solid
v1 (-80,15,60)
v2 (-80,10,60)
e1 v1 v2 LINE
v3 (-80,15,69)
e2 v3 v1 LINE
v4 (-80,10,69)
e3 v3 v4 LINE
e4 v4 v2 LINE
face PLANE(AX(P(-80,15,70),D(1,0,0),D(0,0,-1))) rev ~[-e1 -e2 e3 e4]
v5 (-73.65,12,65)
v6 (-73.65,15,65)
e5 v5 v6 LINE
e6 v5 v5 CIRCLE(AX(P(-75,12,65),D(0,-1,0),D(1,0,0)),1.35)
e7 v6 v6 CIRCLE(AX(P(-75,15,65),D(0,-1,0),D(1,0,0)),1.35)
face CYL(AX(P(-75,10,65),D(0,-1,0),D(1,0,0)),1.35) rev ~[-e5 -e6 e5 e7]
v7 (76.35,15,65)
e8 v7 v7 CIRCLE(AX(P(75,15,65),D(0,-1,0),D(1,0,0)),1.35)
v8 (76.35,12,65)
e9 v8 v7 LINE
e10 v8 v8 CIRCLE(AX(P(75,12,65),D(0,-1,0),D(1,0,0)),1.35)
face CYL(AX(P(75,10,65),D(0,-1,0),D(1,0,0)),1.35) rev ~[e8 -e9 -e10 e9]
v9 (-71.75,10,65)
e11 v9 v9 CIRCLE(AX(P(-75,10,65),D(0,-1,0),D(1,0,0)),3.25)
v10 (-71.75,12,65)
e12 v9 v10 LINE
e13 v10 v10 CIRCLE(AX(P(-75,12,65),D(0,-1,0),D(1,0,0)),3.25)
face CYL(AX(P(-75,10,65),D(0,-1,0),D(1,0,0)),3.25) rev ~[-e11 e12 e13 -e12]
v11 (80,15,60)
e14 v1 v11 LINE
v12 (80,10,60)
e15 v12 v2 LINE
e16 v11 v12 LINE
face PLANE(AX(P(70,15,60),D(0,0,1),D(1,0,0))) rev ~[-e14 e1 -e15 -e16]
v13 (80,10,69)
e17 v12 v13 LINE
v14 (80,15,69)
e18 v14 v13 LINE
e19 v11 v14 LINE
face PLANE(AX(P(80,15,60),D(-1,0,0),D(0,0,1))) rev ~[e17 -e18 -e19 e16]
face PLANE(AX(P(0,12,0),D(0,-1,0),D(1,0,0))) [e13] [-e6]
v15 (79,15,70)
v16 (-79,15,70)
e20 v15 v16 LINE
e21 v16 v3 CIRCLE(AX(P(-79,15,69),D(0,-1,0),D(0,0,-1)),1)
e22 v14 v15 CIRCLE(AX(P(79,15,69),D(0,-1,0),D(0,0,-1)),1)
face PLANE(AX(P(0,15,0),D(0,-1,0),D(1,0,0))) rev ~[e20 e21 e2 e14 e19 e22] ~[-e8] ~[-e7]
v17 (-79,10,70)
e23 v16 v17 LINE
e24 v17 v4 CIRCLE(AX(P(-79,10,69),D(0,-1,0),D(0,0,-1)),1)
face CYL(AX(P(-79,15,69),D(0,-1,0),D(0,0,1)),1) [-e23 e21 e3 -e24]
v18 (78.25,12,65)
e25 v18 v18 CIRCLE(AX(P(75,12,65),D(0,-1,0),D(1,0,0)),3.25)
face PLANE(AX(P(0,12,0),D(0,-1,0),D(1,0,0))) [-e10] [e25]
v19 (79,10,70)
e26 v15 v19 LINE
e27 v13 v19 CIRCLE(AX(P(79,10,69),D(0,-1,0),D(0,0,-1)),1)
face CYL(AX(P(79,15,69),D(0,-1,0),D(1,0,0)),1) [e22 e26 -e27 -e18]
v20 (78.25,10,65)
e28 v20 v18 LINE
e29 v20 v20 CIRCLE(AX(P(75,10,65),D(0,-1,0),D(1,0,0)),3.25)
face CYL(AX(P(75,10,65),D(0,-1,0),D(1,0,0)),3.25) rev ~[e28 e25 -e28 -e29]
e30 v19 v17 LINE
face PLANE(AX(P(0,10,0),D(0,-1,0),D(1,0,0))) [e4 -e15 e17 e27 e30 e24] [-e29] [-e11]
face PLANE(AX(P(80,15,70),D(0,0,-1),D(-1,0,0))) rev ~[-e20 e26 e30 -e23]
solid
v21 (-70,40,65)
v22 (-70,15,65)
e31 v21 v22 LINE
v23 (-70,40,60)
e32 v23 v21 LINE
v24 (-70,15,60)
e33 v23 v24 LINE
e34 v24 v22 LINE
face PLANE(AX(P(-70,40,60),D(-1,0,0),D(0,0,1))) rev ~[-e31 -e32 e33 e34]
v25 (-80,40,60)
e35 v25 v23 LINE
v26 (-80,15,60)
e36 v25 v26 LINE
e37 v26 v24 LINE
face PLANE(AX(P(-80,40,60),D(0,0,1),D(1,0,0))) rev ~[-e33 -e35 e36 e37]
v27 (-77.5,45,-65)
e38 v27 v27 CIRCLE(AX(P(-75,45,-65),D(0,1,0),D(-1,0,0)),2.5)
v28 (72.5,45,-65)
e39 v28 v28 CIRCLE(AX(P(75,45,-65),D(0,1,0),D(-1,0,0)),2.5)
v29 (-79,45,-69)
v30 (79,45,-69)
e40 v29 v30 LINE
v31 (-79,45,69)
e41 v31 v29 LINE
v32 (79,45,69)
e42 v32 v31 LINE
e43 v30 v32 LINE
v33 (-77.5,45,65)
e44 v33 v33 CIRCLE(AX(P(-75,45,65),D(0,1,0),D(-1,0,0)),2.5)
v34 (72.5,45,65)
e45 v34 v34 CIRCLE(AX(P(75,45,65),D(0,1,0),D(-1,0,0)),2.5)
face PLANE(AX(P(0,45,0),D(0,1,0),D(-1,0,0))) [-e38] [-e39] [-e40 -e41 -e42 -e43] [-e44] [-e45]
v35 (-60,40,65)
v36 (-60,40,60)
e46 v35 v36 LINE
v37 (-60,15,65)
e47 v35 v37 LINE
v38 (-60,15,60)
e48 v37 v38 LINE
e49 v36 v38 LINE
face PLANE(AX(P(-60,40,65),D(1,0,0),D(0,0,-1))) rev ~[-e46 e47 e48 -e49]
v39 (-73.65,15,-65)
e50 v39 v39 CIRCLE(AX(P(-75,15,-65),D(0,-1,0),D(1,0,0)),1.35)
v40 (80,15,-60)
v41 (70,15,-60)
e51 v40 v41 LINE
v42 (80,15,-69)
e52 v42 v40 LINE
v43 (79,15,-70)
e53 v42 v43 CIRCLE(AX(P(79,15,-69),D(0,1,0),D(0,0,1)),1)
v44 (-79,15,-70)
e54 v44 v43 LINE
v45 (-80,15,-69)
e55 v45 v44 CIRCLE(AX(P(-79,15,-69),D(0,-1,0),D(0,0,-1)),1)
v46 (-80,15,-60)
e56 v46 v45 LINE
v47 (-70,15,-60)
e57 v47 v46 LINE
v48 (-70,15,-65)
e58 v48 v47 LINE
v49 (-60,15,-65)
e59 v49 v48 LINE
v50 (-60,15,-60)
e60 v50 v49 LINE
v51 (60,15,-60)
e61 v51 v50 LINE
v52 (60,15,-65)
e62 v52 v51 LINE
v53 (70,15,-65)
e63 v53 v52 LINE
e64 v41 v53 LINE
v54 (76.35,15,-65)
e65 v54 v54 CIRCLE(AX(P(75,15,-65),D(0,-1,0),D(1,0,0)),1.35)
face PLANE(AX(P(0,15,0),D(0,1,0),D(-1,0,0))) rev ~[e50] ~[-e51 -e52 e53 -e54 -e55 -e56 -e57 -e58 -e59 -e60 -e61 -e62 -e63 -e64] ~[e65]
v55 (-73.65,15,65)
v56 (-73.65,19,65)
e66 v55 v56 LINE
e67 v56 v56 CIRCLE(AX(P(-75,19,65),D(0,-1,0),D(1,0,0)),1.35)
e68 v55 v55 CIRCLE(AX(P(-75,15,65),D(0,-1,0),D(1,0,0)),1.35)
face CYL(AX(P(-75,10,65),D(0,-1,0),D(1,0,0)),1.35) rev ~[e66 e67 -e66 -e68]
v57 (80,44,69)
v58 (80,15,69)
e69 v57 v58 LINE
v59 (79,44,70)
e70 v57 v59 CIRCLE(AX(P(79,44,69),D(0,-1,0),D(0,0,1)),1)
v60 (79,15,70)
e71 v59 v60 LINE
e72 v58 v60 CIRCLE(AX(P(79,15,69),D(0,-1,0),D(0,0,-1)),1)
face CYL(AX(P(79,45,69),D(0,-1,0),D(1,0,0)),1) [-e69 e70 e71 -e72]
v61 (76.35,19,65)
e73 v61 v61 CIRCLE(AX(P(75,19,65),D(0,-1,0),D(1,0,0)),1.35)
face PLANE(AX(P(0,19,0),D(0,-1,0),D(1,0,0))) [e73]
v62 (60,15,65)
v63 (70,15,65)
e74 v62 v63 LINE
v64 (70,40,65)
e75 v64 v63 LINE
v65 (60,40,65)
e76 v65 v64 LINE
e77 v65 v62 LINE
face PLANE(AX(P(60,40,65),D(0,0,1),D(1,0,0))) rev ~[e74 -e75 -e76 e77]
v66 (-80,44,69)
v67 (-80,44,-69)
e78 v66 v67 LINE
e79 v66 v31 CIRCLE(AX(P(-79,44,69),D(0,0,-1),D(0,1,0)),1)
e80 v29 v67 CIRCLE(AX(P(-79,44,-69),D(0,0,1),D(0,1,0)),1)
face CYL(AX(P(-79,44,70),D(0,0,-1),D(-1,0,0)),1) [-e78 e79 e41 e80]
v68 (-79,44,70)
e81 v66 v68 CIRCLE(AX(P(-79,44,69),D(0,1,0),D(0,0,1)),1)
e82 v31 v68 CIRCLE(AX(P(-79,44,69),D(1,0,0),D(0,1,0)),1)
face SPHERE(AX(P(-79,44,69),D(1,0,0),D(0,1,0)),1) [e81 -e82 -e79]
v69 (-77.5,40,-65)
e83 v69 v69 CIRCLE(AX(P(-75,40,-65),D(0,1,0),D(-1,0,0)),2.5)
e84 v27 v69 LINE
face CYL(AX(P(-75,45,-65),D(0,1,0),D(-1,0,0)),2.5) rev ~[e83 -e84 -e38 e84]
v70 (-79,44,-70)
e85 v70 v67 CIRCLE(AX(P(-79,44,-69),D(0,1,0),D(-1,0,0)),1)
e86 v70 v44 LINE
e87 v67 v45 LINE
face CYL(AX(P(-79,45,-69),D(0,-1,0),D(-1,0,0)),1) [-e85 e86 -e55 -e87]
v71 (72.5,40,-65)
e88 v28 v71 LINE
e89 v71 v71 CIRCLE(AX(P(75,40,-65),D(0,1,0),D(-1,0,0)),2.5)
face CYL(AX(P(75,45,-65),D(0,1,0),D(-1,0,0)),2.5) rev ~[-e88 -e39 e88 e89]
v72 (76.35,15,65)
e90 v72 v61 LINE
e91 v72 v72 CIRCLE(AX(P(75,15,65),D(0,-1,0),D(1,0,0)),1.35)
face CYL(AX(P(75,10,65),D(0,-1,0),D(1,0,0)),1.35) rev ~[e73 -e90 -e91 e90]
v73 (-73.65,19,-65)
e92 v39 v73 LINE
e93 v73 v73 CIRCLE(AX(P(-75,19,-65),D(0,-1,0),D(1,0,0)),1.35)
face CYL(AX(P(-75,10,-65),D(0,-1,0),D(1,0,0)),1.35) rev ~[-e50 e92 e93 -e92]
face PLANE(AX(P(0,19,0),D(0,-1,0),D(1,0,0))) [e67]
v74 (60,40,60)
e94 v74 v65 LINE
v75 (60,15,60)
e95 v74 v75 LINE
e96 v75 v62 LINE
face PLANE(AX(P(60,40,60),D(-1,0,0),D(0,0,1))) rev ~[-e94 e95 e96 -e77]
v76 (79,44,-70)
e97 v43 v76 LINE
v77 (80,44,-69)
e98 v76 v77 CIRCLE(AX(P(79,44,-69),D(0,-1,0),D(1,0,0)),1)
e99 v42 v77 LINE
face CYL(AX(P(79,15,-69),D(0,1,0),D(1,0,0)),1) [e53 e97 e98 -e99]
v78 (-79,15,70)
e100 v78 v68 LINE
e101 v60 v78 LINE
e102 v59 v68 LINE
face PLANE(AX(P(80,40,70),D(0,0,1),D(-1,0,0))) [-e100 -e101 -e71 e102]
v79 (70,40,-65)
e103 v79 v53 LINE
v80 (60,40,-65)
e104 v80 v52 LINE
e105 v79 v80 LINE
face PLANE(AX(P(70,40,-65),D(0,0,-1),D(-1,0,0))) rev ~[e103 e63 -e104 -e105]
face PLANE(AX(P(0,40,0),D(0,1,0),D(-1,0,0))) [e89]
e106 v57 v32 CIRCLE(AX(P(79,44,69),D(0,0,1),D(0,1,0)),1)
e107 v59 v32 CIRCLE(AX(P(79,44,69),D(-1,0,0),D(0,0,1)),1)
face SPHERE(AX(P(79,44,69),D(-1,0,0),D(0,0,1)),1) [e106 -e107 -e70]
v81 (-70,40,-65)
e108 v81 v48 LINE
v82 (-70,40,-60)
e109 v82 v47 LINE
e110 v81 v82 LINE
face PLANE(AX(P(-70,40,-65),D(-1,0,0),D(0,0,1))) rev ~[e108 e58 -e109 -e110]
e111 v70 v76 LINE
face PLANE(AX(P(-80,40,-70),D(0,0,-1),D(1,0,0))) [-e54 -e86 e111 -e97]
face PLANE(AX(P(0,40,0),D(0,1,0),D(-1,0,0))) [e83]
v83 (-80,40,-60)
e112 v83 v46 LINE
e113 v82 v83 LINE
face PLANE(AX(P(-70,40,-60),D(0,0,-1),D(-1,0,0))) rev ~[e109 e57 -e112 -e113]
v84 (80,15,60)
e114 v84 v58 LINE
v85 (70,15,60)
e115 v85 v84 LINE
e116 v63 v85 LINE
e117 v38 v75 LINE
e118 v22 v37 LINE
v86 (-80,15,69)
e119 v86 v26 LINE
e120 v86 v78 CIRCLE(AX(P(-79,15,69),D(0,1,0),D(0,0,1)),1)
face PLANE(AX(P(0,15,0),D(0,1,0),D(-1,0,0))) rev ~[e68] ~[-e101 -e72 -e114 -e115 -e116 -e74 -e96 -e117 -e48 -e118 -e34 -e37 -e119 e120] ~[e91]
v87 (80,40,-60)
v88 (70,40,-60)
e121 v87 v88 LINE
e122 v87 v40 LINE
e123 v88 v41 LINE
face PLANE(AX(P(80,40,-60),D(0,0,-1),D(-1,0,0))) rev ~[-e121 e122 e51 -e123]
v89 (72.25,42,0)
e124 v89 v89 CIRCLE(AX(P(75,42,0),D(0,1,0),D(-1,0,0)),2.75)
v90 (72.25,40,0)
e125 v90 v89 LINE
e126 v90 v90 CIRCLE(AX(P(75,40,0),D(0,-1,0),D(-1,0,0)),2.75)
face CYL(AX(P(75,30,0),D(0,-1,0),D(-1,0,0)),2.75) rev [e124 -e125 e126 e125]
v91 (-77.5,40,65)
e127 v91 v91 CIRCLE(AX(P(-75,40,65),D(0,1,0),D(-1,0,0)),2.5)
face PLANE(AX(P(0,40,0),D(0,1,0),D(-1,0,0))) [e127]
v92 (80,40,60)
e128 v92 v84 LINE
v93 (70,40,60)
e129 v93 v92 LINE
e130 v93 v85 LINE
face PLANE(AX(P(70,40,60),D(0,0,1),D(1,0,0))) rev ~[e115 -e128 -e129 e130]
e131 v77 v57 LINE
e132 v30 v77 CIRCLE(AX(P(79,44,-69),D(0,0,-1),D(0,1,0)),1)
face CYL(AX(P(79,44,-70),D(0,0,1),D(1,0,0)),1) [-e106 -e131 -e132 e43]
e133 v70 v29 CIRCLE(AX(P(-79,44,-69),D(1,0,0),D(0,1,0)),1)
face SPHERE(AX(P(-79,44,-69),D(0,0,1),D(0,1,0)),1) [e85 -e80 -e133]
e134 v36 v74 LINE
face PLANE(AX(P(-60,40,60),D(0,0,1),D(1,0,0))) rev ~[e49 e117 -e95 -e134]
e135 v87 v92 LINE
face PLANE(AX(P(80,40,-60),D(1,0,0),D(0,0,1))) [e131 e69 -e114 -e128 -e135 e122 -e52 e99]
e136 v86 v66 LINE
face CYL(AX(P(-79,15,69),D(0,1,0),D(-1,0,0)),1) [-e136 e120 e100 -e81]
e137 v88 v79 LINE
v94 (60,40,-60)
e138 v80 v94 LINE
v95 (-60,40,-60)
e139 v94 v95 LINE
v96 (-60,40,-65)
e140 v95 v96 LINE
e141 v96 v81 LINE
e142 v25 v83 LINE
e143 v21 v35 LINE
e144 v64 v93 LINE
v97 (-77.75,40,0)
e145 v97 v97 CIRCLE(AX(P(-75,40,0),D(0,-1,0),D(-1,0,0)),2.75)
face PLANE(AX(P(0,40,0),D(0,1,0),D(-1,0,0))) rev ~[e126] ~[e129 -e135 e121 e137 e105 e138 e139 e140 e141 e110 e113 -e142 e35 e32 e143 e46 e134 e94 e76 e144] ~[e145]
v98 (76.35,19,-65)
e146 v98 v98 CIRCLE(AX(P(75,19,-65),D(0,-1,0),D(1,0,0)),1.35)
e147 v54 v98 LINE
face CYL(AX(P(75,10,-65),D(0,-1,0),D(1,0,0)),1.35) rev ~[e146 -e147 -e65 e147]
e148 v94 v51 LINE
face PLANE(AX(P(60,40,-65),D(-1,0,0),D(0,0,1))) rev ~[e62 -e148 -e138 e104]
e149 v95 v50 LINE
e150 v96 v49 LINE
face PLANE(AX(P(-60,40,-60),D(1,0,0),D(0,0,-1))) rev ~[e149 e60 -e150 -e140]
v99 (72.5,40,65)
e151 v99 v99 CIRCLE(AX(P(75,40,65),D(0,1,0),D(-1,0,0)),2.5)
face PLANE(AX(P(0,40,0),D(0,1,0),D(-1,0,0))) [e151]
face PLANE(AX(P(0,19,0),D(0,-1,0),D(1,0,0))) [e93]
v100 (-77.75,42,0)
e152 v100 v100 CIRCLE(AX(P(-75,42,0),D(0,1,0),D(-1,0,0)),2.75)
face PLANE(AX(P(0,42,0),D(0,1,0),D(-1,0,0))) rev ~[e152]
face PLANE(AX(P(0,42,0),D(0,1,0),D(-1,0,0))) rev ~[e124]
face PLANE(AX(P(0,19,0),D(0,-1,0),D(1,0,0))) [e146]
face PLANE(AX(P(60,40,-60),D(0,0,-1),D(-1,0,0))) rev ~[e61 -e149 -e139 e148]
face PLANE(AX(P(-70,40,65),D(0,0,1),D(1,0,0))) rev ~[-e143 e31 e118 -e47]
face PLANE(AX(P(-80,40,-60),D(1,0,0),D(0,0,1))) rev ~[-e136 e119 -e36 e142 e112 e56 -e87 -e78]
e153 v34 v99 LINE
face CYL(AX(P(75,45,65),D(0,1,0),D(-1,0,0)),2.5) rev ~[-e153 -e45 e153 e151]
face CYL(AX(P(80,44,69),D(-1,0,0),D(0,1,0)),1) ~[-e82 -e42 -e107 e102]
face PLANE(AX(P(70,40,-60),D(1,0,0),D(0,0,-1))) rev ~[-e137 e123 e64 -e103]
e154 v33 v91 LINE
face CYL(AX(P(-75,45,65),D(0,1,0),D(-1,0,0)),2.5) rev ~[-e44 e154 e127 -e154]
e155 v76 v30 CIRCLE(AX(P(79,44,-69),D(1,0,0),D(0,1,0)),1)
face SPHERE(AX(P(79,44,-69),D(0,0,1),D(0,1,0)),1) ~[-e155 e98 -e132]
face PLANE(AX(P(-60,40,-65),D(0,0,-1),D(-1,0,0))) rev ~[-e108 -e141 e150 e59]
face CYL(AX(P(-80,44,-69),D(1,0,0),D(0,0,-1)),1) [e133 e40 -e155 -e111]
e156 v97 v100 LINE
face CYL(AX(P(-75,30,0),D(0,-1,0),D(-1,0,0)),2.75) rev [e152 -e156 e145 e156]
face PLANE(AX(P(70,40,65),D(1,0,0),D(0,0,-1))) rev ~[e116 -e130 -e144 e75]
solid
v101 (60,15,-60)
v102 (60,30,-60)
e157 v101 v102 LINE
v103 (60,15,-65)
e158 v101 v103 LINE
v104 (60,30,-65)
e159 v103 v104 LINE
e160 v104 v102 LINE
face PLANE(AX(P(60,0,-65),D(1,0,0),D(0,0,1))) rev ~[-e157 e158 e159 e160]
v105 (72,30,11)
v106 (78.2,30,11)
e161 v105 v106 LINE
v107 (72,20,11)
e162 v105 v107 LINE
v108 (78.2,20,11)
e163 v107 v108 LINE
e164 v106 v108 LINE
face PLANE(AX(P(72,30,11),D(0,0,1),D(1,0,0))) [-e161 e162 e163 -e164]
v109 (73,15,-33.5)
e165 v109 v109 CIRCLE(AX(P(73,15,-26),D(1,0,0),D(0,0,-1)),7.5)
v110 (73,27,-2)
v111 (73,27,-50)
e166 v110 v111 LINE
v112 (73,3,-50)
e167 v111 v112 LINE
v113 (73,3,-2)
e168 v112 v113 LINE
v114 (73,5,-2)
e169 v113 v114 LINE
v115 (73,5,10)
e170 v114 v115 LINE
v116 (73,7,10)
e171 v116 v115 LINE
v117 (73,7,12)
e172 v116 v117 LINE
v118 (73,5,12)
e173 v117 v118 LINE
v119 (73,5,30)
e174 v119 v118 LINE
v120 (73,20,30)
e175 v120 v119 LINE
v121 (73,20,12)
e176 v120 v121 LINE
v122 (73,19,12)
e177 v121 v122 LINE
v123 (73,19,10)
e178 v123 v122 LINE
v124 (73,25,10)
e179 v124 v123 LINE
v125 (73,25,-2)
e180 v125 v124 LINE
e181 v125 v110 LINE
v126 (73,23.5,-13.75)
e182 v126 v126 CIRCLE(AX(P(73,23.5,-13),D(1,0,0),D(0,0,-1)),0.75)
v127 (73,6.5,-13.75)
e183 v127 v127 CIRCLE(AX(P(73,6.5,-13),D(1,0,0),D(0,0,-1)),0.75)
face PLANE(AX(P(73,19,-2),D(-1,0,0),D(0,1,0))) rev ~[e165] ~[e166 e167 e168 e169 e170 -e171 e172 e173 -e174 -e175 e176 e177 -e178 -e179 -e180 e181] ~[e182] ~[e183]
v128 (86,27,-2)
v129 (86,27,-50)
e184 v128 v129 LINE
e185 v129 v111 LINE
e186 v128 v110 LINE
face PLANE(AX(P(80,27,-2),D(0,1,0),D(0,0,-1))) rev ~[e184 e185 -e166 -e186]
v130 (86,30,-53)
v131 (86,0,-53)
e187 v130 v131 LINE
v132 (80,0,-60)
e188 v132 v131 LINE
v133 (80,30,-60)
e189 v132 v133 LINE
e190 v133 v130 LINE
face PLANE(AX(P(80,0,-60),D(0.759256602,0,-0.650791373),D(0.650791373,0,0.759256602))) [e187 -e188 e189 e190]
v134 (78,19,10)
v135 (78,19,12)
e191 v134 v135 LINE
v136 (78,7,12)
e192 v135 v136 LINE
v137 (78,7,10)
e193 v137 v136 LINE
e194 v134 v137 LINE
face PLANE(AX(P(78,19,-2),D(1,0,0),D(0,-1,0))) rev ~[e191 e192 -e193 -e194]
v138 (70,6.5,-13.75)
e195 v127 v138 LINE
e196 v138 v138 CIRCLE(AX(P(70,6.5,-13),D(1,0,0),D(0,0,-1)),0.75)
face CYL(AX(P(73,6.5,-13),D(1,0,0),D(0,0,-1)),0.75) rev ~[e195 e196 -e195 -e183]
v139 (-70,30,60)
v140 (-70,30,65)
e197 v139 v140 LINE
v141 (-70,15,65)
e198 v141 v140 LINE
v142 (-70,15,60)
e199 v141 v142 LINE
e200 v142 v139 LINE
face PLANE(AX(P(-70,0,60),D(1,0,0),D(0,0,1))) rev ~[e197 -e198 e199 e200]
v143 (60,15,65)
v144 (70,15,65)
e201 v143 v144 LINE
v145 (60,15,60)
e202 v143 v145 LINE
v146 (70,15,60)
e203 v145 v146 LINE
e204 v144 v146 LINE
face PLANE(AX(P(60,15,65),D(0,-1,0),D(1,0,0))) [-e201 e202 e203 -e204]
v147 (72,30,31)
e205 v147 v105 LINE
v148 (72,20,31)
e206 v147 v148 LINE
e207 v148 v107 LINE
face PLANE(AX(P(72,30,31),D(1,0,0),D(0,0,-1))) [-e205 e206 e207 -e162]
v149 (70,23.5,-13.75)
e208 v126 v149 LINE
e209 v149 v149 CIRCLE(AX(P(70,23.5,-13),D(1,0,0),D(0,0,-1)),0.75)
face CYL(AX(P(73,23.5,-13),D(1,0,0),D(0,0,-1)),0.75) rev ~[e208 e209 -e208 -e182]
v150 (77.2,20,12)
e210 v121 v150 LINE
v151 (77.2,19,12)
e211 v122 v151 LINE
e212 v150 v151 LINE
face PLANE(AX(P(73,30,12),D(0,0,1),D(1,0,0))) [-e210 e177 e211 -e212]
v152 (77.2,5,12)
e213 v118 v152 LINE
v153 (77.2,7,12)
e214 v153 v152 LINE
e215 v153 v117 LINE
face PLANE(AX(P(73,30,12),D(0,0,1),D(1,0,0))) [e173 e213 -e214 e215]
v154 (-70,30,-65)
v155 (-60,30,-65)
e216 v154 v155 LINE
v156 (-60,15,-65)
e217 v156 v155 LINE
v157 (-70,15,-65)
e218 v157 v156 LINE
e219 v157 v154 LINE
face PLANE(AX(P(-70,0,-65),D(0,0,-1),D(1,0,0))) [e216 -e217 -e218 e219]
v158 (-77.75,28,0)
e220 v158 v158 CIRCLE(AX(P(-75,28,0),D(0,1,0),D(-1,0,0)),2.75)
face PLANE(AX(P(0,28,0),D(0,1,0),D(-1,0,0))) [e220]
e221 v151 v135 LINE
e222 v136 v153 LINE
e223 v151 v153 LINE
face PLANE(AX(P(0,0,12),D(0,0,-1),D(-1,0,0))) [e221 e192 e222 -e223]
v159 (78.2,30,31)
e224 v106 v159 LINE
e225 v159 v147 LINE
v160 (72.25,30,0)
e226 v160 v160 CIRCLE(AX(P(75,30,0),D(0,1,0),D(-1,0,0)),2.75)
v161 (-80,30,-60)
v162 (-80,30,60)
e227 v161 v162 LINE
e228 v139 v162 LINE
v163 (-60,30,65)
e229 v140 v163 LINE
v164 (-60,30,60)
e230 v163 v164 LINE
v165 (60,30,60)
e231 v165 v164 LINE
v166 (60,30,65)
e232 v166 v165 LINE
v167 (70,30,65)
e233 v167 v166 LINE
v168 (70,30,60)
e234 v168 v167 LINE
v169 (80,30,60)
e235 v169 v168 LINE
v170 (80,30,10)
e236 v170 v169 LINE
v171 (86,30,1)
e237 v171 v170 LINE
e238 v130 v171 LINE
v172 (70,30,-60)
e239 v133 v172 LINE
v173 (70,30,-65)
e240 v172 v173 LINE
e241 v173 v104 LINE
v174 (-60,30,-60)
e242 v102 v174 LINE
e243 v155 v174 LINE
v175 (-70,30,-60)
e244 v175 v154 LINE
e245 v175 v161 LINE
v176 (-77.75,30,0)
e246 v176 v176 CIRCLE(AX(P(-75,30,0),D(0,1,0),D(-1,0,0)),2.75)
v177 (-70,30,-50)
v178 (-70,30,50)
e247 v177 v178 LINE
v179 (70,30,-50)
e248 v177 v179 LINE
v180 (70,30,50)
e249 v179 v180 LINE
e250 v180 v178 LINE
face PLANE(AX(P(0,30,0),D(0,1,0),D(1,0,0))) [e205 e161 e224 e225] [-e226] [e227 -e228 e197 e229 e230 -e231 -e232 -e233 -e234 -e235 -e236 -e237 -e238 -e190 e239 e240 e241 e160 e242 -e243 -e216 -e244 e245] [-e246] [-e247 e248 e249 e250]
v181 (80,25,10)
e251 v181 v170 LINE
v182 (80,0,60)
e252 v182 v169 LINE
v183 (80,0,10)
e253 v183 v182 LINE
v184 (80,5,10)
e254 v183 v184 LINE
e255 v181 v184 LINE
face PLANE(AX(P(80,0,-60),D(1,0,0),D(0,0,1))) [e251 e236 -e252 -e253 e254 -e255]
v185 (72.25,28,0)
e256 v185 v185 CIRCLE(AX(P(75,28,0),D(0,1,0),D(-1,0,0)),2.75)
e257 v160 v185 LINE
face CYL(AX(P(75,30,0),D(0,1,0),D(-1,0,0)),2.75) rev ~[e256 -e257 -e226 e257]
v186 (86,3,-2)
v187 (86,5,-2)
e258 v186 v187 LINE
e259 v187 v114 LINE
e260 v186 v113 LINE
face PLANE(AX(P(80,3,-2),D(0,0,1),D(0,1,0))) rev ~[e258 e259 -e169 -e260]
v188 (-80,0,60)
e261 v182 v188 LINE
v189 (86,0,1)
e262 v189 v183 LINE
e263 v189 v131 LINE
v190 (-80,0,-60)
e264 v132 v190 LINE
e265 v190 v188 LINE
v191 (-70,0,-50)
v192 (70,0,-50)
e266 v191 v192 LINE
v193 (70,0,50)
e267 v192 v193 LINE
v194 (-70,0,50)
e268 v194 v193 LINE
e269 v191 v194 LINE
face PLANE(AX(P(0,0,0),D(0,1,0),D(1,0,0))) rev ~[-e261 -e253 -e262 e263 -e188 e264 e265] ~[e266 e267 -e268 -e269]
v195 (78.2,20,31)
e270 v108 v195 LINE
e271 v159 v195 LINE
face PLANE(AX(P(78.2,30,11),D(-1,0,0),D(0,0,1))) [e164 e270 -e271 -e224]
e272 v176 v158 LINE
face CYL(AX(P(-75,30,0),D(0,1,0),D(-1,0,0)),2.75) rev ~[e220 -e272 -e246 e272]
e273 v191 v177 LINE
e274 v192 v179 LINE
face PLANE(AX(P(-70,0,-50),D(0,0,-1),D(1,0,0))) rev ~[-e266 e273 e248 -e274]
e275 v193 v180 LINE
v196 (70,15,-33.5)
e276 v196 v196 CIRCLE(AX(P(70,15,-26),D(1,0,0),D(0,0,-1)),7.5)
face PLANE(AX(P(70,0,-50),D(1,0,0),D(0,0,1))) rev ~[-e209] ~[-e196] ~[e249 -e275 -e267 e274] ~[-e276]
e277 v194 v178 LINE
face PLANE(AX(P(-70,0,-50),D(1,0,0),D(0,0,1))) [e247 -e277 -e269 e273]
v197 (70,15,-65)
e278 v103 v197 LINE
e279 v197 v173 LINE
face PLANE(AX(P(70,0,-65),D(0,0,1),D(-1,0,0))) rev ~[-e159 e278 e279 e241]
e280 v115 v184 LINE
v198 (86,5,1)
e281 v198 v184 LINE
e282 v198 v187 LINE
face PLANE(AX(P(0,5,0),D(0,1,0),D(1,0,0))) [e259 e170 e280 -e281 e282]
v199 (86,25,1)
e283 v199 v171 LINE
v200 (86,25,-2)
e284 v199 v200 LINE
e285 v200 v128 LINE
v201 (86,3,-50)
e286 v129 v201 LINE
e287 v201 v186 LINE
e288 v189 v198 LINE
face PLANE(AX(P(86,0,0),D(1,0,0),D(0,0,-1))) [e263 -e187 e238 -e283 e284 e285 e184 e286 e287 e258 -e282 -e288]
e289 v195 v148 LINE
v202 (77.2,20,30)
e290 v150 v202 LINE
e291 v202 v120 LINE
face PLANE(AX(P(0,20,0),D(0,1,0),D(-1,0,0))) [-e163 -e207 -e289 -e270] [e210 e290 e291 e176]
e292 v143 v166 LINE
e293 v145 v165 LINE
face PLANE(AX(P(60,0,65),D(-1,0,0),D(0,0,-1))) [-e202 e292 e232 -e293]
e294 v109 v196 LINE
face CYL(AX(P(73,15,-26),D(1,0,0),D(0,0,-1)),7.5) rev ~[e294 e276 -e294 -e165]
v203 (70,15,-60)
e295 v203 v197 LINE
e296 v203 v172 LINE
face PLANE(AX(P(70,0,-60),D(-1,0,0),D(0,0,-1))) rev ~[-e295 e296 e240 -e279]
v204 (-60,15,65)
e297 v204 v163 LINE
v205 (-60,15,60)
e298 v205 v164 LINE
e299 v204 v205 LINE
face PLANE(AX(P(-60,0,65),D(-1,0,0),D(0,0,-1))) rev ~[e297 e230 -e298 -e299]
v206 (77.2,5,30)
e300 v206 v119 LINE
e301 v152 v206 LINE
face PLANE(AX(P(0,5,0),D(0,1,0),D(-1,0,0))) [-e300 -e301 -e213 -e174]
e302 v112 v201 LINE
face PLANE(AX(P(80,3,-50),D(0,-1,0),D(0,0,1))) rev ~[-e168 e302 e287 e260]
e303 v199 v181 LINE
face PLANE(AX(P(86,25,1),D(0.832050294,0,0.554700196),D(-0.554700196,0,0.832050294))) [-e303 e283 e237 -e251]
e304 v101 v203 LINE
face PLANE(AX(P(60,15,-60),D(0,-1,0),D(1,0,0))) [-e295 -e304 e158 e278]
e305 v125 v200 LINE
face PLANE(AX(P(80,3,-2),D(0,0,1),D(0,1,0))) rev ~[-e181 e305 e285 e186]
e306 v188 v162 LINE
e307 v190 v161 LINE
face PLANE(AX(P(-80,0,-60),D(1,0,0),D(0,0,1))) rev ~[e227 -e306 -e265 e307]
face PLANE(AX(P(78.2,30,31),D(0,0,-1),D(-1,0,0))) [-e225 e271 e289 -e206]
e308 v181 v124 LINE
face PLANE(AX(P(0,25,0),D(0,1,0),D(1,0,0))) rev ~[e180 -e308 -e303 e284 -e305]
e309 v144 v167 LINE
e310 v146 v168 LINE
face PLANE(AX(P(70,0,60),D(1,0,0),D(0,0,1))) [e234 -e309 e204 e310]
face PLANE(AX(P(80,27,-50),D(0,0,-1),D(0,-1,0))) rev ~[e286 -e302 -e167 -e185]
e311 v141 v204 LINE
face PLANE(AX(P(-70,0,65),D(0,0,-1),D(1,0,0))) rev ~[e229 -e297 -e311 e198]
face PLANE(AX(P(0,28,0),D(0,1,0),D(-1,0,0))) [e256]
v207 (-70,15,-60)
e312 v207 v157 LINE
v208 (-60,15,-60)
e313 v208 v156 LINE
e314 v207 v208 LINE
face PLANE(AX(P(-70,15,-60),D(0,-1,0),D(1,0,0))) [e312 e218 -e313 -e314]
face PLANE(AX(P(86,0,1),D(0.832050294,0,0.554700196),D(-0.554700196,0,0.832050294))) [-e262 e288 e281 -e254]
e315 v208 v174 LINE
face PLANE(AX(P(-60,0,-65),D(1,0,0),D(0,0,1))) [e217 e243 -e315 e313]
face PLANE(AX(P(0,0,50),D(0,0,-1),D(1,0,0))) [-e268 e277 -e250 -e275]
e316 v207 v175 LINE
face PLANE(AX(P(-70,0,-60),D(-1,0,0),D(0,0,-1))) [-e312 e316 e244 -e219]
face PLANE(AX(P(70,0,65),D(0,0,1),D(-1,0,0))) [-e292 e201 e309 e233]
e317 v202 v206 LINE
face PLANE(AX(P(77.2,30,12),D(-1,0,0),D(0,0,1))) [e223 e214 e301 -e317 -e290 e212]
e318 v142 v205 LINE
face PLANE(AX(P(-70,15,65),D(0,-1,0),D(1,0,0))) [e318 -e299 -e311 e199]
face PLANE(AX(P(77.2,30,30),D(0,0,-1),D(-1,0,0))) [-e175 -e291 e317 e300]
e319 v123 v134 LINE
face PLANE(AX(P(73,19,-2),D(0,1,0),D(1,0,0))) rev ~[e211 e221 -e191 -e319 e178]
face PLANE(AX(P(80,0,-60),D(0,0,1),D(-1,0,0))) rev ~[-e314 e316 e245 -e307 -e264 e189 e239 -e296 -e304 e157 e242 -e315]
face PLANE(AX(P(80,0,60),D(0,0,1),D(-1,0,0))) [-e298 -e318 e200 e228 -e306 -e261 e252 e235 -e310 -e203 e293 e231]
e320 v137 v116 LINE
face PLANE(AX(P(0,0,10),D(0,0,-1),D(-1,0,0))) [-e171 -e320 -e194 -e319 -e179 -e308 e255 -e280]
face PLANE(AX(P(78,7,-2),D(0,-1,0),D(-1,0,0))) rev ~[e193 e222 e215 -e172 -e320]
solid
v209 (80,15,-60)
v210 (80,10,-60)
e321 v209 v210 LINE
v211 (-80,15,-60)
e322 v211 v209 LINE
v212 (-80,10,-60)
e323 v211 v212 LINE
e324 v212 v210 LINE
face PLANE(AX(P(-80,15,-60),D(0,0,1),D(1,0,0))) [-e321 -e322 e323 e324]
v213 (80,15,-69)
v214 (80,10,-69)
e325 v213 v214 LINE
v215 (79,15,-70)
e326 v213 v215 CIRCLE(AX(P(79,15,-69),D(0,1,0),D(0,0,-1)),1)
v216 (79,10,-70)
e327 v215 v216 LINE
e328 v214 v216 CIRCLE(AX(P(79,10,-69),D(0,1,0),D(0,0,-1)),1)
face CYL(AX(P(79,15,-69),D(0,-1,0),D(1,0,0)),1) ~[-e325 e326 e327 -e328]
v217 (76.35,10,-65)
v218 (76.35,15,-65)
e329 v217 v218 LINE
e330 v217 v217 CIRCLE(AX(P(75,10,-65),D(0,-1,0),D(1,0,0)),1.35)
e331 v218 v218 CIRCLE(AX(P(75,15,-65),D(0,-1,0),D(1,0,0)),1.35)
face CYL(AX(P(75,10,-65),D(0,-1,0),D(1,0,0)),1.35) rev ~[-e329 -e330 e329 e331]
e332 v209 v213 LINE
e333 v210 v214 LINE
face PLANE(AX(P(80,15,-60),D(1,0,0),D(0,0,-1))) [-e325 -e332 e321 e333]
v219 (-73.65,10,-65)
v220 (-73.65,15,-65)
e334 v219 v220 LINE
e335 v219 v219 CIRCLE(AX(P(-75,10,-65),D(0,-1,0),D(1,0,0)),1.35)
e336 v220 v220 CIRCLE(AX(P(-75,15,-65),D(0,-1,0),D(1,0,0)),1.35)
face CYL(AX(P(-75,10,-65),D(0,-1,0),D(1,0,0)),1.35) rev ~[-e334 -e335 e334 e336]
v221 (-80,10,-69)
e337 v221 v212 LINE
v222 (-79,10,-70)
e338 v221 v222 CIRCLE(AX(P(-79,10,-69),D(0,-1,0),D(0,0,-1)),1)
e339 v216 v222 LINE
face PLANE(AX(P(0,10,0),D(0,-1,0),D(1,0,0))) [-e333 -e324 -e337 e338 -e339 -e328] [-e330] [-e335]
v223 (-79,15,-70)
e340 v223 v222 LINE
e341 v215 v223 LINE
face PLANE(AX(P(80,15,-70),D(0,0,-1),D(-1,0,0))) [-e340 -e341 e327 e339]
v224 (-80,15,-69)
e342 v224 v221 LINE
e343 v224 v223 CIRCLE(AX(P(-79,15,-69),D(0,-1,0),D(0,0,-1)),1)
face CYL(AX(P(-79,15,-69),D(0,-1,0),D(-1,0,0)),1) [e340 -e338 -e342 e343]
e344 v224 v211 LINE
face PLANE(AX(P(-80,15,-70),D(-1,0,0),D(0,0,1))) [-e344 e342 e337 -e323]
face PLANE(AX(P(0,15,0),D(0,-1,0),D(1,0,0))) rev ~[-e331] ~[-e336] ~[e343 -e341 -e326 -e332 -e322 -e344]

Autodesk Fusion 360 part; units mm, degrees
sketch "草图1" plane through (0, 0, 0) normal (0, 1, 0) x (1, 0, 0)
  line L0 (0, 0) -> (0, -50) construction
  line L1 (0, -50) -> (70, -50)
  line L2 (80, -60) -> (-80, -60)
  line L3 (-70, -50) -> (0, -50)
  line L4 (-70, 50) -> (70, 50)
  line L5 (80, 60) -> (-80, 60)
  line L6 (-70, 50) -> (-70, -50)
  line L7 (70, 50) -> (70, -50)
  line L8 (-80, 60) -> (-80, -60)
  line L9 (80, 60) -> (80, -60)
  line L10 (0, 0) -> (70, 0) construction
  line L11 (-70, 60) -> (-70, 65)
  line L12 (-70, 65) -> (-60, 65)
  line L13 (-60, 65) -> (-60, 60)
  line L14 (70, 60) -> (70, 65)
  line L15 (70, 65) -> (60, 65)
  line L16 (60, 65) -> (60, 60)
  line L17 (-70, -60) -> (-70, -65)
  line L18 (-70, -65) -> (-60, -65)
  line L19 (-60, -65) -> (-60, -60)
  line L20 (70, -60) -> (70, -65)
  line L21 (70, -65) -> (60, -65)
  line L22 (60, -65) -> (60, -60)
  dimension "d5" = 50
  dimension "d21" = 160
  dimension "d23" = 140
  dimension "d24" = 100
  dimension "d25" = 10
  dimension "d26" = 120
  dimension "d27" = 10
  dimension "d28" = 70
  dimension "d31" = 5
  dimension "d32" = 10
  dimension "d33" = 10
  dimension "d34" = 10
  dimension "d35" = 10
  dimension "d36" = 5
  dimension "d37" = 5
  dimension "d38" = 10
  dimension "d39" = 10
  dimension "d40" = 5
  dimension "d41" = 10
  dimension "d42" = 10
extrude "拉伸4" add sketch "草图1" along normal blind 30 makes body 1
sketch "草图6" plane through (80, 0, 0) normal (1, 0, 0) x (0, 0, -1)
  line L0 (-60, 0) -> (60, 0)
  line L1 (60, 0) -> (60, 30)
  line L2 (60, 30) -> (-60, 30)
  line L3 (-60, 30) -> (-60, 0)
  line L4 (50, 3) -> (2, 3)
  line L5 (2, 3) -> (2, 27)
  line L6 (2, 27) -> (50, 27)
  line L7 (50, 27) -> (50, 3)
  line L8 (53, 30) -> (53, 0)
  line L9 (53, 0) -> (-1, 0)
  line L10 (-1, 0) -> (-1, 30)
  line L11 (-1, 30) -> (53, 30)
  dimension "d65" = 48
  dimension "d66" = 24
  dimension "d67" = 10
  dimension "d68" = 3
  dimension "d71" = -3
extrude "拉伸9" cut sketch "草图6" against normal blind 7 contours L4 L5 L6 L7 bodies 1
extrude "拉伸10" add sketch "草图6" along normal blind 6 contours L0 L2 L8 L9 L10 L11 bodies 1
sketch "草图7" plane through (73, 0, 0) normal (1, 0, 0) x (0, 0, -1)
  line L0 (50, 27) -> (2, 27)
  line L1 (2, 27) -> (2, 3)
  line L2 (2, 3) -> (50, 3)
  line L3 (50, 3) -> (50, 27)
  line L4 (2, 15) -> (50, 15) construction
  circle A0 centre (26, 15) radius 7.5
  line L5 (50, 15) -> (13, 15) construction
  line L6 (13, 15) -> (13, 27) construction
  circle A1 centre (13, 23.5) radius 0.75
  circle A2 centre (13, 6.5) radius 0.75
  line L7 (13, 15) -> (13, 6.5) construction
  dimension "d74" = 15
  dimension "d81" = 37
  dimension "d82" = 1.5
  dimension "d83" = 3.5
  dimension "d84" = 1.5
  dimension "d85" = 3.5
extrude "拉伸11" cut sketch "草图7" against normal blind 3 contours A0 | A1 | A2 bodies 1
sketch "草图8" plane through (0, 0, 1) normal (0, 0, 1) x (1, 0, 0)
  line L0 (80, 30) -> (80, 0)
  line L1 (80, 0) -> (86, 0)
  line L2 (86, 0) -> (86, 30)
  line L3 (86, 30) -> (80, 30)
  line L4 (86, 25) -> (80, 25)
  line L5 (80, 25) -> (80, 5)
  line L6 (80, 5) -> (86, 5)
  line L7 (86, 5) -> (86, 25)
  dimension "d77" = 5
  dimension "d78" = 5
extrude "拉伸12" cut sketch "草图8" against normal blind 3 contours L0 L2 L4 L5 L6 L7 bodies 1
sketch "草图9" plane through (0, 30, 0) normal (0, 1, 0) x (-1, 0, 0)
  line L0 (70, 50) -> (70, -50)
  line L1 (70, -50) -> (-70, -50)
  line L2 (-70, -50) -> (-70, 50)
  line L3 (-70, 50) -> (70, 50)
  line L4 (-80, -60) -> (-70, -60)
  line L5 (-70, -60) -> (-70, -65)
  line L6 (-70, -65) -> (-60, -65)
  line L7 (-60, -65) -> (-60, -60)
  line L8 (-60, -60) -> (60, -60)
  line L9 (60, -60) -> (60, -65)
  line L10 (60, -65) -> (70, -65)
  line L11 (70, -65) -> (70, -60)
  line L12 (70, -60) -> (80, -60)
  line L13 (80, -60) -> (80, 60)
  line L14 (80, 60) -> (70, 60)
  line L15 (70, 60) -> (70, 65)
  line L16 (70, 65) -> (60, 65)
  line L17 (60, 65) -> (60, 60)
  line L18 (60, 60) -> (-60, 60)
  line L19 (-60, 60) -> (-60, 65)
  line L20 (-60, 65) -> (-70, 65)
  line L21 (-70, 65) -> (-70, 60)
  line L22 (-70, 60) -> (-80, 60)
  line L23 (-80, 60) -> (-80, 1)
  line L24 (-80, 1) -> (-86, 1)
  line L25 (-86, 1) -> (-86, -53)
  line L26 (-86, -53) -> (-80, -53)
  line L27 (-80, -53) -> (-80, -60)
  line L28 (-72, 11) -> (-78.2, 11)
  line L29 (-78.2, 11) -> (-78.2, 31)
  line L30 (-78.2, 31) -> (-72, 31)
  line L31 (-72, 31) -> (-72, 11)
  line L32 (-77.2, 12) -> (-77.2, 30)
  line L33 (-77.2, 30) -> (-73, 30)
  line L34 (-73, 30) -> (-73, 12)
  line L35 (-73, 12) -> (-77.2, 12)
  dimension "d86" = 6.2
  dimension "d87" = 20
  dimension "d88" = 11
  dimension "d89" = 2
  dimension "d92" = 1
extrude "拉伸13" cut sketch "草图9" against normal blind 10 contours L28 L29 L30 L31 | L32 L33 L34 L35 bodies 1
extrude "拉伸14" cut sketch "草图9" against normal blind 25 contours L32 L33 L34 L35 bodies 1
sketch "草图10" plane through (0, 0, -2) normal (0, 0, -1) x (-1, 0, 0)
  line L0 (-80, 5) -> (-86, 5)
  line L1 (-86, 5) -> (-86, 3)
  line L2 (-86, 3) -> (-73, 3)
  line L3 (-73, 3) -> (-73, 27)
  line L4 (-73, 27) -> (-86, 27)
  line L5 (-86, 27) -> (-86, 25)
  line L6 (-86, 25) -> (-80, 25)
  line L7 (-80, 25) -> (-80, 5)
  line L8 (-80, 25) -> (-73, 25)
  line L9 (-73, 25) -> (-73, 5)
  line L10 (-73, 5) -> (-80, 5)
  line L11 (-80, 5) -> (-80, 25)
  line L12 (-73, 19) -> (-78, 19)
  line L13 (-78, 19) -> (-78, 7)
  line L14 (-78, 7) -> (-73, 7)
  line L15 (-73, 7) -> (-73, 19)
  dimension "d95" = 20
  dimension "d96" = 7
  dimension "d99" = 6
  dimension "d100" = 2
  dimension "d101" = 2
extrude "拉伸15" cut sketch "草图10" against normal blind 12 contours L3 L7 L8 L9 L10 L11 L12 L13 L14 | L3 L9 L12 L13 L14 L15 bodies 1
extrude "拉伸16" cut sketch "草图10" against normal up to surface (14 mm away) contours L3 L9 L12 L13 L14 L15 bodies 1
sketch "草图11" plane through (0, 0, 0) normal (0, 1, 0) x (1, 0, 0)
  line L0 (80, -1) -> (86, -1)
  line L1 (86, -1) -> (80, -10)
  line L2 (80, -10) -> (80, -1)
  line L3 (70, 50) -> (70, -50)
  line L4 (86, 53) -> (80, 53)
  line L5 (80, 60) -> (86, 53)
  line L6 (80, 53) -> (80, 60)
  dimension "d104" = 6
  dimension "d105" = 9
  dimension "d106" = 10
  dimension "d107" = 54
  dimension "d113" = 7
extrude "拉伸17" add sketch "草图11" along normal blind 5 contours L0 L1 L2 bodies 1
extrude "拉伸18" add sketch "草图11" along normal blind 5 from surface at 25 contours L0 L1 L2 bodies 1
extrude "拉伸19" add sketch "草图11" along normal blind 30 contours L4 L5 L6 bodies 1
sketch "草图12" plane through (0, 30, 0) normal (0, 1, 0) x (-1, 0, 0)
  line L0 (-78.2, 11) -> (-78.2, 31)
  line L1 (-78.2, 31) -> (-72, 31)
  line L2 (-72, 31) -> (-72, 11)
  line L3 (-72, 11) -> (-78.2, 11)
  line L4 (70, 50) -> (70, -50)
  line L5 (70, -50) -> (-70, -50)
  line L6 (-70, -50) -> (-70, 50)
  line L7 (-70, 50) -> (70, 50)
  line L8 (-80, -60) -> (-70, -60)
  line L9 (-70, -60) -> (-70, -65)
  line L10 (-70, -65) -> (-60, -65)
  line L11 (-60, -65) -> (-60, -60)
  line L12 (-60, -60) -> (60, -60)
  line L13 (60, -60) -> (60, -65)
  line L14 (60, -65) -> (70, -65)
  line L15 (70, -65) -> (70, -60)
  line L16 (70, -60) -> (80, -60)
  line L17 (80, -60) -> (80, 60)
  line L18 (80, 60) -> (70, 60)
  line L19 (70, 60) -> (70, 65)
  line L20 (70, 65) -> (60, 65)
  line L21 (60, 65) -> (60, 60)
  line L22 (60, 60) -> (-60, 60)
  line L23 (-60, 60) -> (-60, 65)
  line L24 (-60, 65) -> (-70, 65)
  line L25 (-70, 65) -> (-70, 60)
  line L26 (-70, 60) -> (-80, 60)
  line L27 (-80, 60) -> (-80, 10)
  line L28 (-80, 10) -> (-86, 1)
  line L29 (-86, 1) -> (-86, -53)
  line L30 (-86, -53) -> (-80, -60)
  circle A0 centre (75, 0) radius 2.75
  circle A1 centre (-75, 0) radius 2.75
  line L31 (75, 0) -> (0, 0) construction
  dimension "d116" = 5.5
  dimension "d117" = 5.5
  dimension "d118" = 150
  dimension "d119" = 60
  dimension "d120" = 60
  dimension "d121" = 75
extrude "拉伸20" cut sketch "草图12" against normal blind 2 contours A0 | A1 bodies 1
sketch "草图13" plane through (0, 30, 0) normal (0, 1, 0) x (-1, 0, 0)
  circle A0 centre (75, 0) radius 2.75
  circle A1 centre (-75, 0) radius 2.75
  line L0 (-78.2, 11) -> (-78.2, 31)
  line L1 (-78.2, 31) -> (-72, 31)
  line L2 (-72, 31) -> (-72, 11)
  line L3 (-72, 11) -> (-78.2, 11)
  line L4 (70, 50) -> (70, -50)
  line L5 (70, -50) -> (-70, -50)
  line L6 (-70, -50) -> (-70, 50)
  line L7 (-70, 50) -> (70, 50)
  line L8 (-80, -60) -> (-70, -60)
  line L9 (-70, -60) -> (-70, -65)
  line L10 (-70, -65) -> (-60, -65)
  line L11 (-60, -65) -> (-60, -60)
  line L12 (-60, -60) -> (60, -60)
  line L13 (60, -60) -> (60, -65)
  line L14 (60, -65) -> (70, -65)
  line L15 (70, -65) -> (70, -60)
  line L16 (70, -60) -> (80, -60)
  line L17 (80, -60) -> (80, 60)
  line L18 (80, 60) -> (70, 60)
  line L19 (70, 60) -> (70, 65)
  line L20 (70, 65) -> (60, 65)
  line L21 (60, 65) -> (60, 60)
  line L22 (60, 60) -> (-60, 60)
  line L23 (-60, 60) -> (-60, 65)
  line L24 (-60, 65) -> (-70, 65)
  line L25 (-70, 65) -> (-70, 60)
  line L26 (-70, 60) -> (-80, 60)
  line L27 (-80, 60) -> (-80, 10)
  line L28 (-80, 10) -> (-86, 1)
  line L29 (-86, 1) -> (-86, -53)
  line L30 (-86, -53) -> (-80, -60)
  line L31 (80, -70) -> (-80, -70)
  line L32 (-80, -70) -> (-80, 70)
  line L33 (-80, 70) -> (80, 70)
  line L34 (80, 70) -> (80, -70)
extrude "拉伸21" add sketch "草图13" along normal blind 5 from surface at 10 separate body contours A0 | A1 | L0 L1 L2 L3 | L4 L5 L6 L7 | L8 L9 L10 L11 L12 L13 L14 L15 L16 L17 L18 L19 L20 L21 L22 L23 L24 L25 L26 L27 L32 L34 | L8 L9 L10 L11 L12 L13 L14 L15 L16 L31 L32 L34 | L18 L19 L20 L21 L22 L23 L24 L25 L26 L32 L33 L34 makes body 2
extrude "拉伸22" add sketch "草图13" along normal blind -15 and the other way up to surface (-10 mm away) contours L8 L9 L10 L11 L12 L13 L14 L15 L16 L31 L32 L34 | L18 L19 L20 L21 L22 L23 L24 L25 L26 L32 L33 L34 bodies 2
sketch "草图15" plane through (0, 15, 0) normal (0, -1, 0) x (1, 0, 0)
  line L0 (80, 70) -> (-80, 70)
  line L1 (-80, 70) -> (-80, 60)
  line L2 (-80, 60) -> (-70, 60)
  line L3 (-70, 60) -> (-70, 65)
  line L4 (-70, 65) -> (-60, 65)
  line L5 (-60, 65) -> (-60, 60)
  line L6 (-60, 60) -> (60, 60)
  line L7 (60, 60) -> (60, 65)
  line L8 (60, 65) -> (70, 65)
  line L9 (70, 65) -> (70, 60)
  line L10 (70, 60) -> (80, 60)
  line L11 (80, 60) -> (80, 70)
  line L12 (-80, 70) -> (80, 70)
  line L13 (80, 70) -> (80, 60)
  line L14 (80, 60) -> (-80, 60)
  line L15 (-80, 60) -> (-80, 70)
  line L16 (-80, -60) -> (80, -60)
  line L17 (80, -60) -> (80, -70)
  line L18 (80, -70) -> (-80, -70)
  line L19 (-80, -70) -> (-80, -60)
extrude "拉伸24" add sketch "草图15" along normal blind 5 separate body makes body 3 at (-26.6667, 15, -63.3333) makes body 4 at (26.6667, 15, 63.3333)
sketch "草图16" plane through (0, 10, 0) normal (0, -1, 0) x (1, 0, 0)
  line L0 (-80, 60) -> (80, 60)
  line L1 (80, 60) -> (80, 70)
  line L2 (80, 70) -> (-80, 70)
  line L3 (-80, 70) -> (-80, 60)
  circle A0 centre (-75, 65) radius 3.25
  circle A1 centre (-75, 65) radius 1.35
  line L4 (-75, 65) -> (-75, 0) construction
  line L5 (-75, 0) -> (0, 0) construction
  circle A2 centre (75, 65) radius 3.25
  circle A3 centre (75, 65) radius 1.35
  circle A4 centre (-75, -65) radius 3.25
  circle A5 centre (-75, -65) radius 1.35
  circle A6 centre (75, -65) radius 3.25
  circle A7 centre (75, -65) radius 1.35
  dimension "d135" = 6.5
  dimension "d136" = 2.7
  dimension "d137" = 65
  dimension "d138" = 75
  dimension "d141" = 150
  dimension "d142" = -130
extrude "拉伸25" cut sketch "草图16" against normal blind 2 contours A0 | A1 | A2 | A3 | A4 | A5 | A6 | A7 bodies 1 4
extrude "拉伸26" cut sketch "草图16" against normal blind 9 contours A1 | A3 | A5 | A7 bodies 2 3 4
sketch "草图17" plane through (0, 45, 0) normal (0, 1, 0) x (-1, 0, 0)
  line L0 (80, 70) -> (-80, 70)
  line L1 (-80, 70) -> (-80, -70)
  line L2 (-80, -70) -> (80, -70)
  line L3 (80, -70) -> (80, 70)
  circle A0 centre (75, 65) radius 2.5
  line L4 (0, 0) -> (75, 0) construction
  line L5 (75, 0) -> (75, 65) construction
  circle A1 centre (-75, 65) radius 2.5
  circle A2 centre (75, -65) radius 2.5
  circle A3 centre (-75, -65) radius 2.5
  dimension "d150" = 5
  dimension "d151" = 75
  dimension "d152" = 65
  dimension "d155" = -150
  dimension "d156" = -130
extrude "拉伸27" cut sketch "草图17" against normal blind 5 contours A0 | A1 | A2 | A3 bodies 2
fillet "圆角1" radius 1 12 edges at (0, 45, 70) (-80, 45, 0) (-80, 30, 70) (80, 30, 70) (80, 45, 0) (0, 45, -70) (80, 30, -70) (-80, 30, -70) (80, 12.5, -70) (-80, 12.5, -70) (-80, 12.5, 70) (80, 12.5, 70) on bodies 2 3 4
sketch "草图18" plane through (0, 0, 65) normal (0, 0, 1) x (1, 0, 0)
  line L0 (-70, 0) -> (-60, 0)
  line L1 (-60, 0) -> (-60, 30)
  line L2 (-60, 30) -> (-70, 30)
  line L3 (-70, 30) -> (-70, 0)
  line L4 (-70, 15) -> (-60, 15)
  line L5 (-60, 15) -> (-60, 0)
  line L6 (-60, 0) -> (-70, 0)
  line L7 (-70, 0) -> (-70, 15)
  line L8 (70, 0) -> (60, 0)
  line L9 (60, 0) -> (60, 15)
  line L10 (60, 15) -> (70, 15)
  line L11 (70, 15) -> (70, 0)
  dimension "d161" = 120
  dimension "d162" = 15
  dimension "d163" = 10
  dimension "d164" = 15
extrude "拉伸28" cut sketch "草图18" against normal blind 5 contours L0 L1 L3 L4 L5 L6 L7 | L8 L9 L10 L11 bodies 1
extrude "拉伸29" cut sketch "草图18" against normal blind 5 from surface at -125 contours L0 L1 L3 L4 L5 L6 L7 | L8 L9 L10 L11 bodies 1
extrude "拉伸30" cut sketch "草图12" along normal blind 12 contours A0 | A1 bodies 2
sketch "草图19" plane through (0, 0, 0) normal (0, 0, 1) x (1, 0, 0)
